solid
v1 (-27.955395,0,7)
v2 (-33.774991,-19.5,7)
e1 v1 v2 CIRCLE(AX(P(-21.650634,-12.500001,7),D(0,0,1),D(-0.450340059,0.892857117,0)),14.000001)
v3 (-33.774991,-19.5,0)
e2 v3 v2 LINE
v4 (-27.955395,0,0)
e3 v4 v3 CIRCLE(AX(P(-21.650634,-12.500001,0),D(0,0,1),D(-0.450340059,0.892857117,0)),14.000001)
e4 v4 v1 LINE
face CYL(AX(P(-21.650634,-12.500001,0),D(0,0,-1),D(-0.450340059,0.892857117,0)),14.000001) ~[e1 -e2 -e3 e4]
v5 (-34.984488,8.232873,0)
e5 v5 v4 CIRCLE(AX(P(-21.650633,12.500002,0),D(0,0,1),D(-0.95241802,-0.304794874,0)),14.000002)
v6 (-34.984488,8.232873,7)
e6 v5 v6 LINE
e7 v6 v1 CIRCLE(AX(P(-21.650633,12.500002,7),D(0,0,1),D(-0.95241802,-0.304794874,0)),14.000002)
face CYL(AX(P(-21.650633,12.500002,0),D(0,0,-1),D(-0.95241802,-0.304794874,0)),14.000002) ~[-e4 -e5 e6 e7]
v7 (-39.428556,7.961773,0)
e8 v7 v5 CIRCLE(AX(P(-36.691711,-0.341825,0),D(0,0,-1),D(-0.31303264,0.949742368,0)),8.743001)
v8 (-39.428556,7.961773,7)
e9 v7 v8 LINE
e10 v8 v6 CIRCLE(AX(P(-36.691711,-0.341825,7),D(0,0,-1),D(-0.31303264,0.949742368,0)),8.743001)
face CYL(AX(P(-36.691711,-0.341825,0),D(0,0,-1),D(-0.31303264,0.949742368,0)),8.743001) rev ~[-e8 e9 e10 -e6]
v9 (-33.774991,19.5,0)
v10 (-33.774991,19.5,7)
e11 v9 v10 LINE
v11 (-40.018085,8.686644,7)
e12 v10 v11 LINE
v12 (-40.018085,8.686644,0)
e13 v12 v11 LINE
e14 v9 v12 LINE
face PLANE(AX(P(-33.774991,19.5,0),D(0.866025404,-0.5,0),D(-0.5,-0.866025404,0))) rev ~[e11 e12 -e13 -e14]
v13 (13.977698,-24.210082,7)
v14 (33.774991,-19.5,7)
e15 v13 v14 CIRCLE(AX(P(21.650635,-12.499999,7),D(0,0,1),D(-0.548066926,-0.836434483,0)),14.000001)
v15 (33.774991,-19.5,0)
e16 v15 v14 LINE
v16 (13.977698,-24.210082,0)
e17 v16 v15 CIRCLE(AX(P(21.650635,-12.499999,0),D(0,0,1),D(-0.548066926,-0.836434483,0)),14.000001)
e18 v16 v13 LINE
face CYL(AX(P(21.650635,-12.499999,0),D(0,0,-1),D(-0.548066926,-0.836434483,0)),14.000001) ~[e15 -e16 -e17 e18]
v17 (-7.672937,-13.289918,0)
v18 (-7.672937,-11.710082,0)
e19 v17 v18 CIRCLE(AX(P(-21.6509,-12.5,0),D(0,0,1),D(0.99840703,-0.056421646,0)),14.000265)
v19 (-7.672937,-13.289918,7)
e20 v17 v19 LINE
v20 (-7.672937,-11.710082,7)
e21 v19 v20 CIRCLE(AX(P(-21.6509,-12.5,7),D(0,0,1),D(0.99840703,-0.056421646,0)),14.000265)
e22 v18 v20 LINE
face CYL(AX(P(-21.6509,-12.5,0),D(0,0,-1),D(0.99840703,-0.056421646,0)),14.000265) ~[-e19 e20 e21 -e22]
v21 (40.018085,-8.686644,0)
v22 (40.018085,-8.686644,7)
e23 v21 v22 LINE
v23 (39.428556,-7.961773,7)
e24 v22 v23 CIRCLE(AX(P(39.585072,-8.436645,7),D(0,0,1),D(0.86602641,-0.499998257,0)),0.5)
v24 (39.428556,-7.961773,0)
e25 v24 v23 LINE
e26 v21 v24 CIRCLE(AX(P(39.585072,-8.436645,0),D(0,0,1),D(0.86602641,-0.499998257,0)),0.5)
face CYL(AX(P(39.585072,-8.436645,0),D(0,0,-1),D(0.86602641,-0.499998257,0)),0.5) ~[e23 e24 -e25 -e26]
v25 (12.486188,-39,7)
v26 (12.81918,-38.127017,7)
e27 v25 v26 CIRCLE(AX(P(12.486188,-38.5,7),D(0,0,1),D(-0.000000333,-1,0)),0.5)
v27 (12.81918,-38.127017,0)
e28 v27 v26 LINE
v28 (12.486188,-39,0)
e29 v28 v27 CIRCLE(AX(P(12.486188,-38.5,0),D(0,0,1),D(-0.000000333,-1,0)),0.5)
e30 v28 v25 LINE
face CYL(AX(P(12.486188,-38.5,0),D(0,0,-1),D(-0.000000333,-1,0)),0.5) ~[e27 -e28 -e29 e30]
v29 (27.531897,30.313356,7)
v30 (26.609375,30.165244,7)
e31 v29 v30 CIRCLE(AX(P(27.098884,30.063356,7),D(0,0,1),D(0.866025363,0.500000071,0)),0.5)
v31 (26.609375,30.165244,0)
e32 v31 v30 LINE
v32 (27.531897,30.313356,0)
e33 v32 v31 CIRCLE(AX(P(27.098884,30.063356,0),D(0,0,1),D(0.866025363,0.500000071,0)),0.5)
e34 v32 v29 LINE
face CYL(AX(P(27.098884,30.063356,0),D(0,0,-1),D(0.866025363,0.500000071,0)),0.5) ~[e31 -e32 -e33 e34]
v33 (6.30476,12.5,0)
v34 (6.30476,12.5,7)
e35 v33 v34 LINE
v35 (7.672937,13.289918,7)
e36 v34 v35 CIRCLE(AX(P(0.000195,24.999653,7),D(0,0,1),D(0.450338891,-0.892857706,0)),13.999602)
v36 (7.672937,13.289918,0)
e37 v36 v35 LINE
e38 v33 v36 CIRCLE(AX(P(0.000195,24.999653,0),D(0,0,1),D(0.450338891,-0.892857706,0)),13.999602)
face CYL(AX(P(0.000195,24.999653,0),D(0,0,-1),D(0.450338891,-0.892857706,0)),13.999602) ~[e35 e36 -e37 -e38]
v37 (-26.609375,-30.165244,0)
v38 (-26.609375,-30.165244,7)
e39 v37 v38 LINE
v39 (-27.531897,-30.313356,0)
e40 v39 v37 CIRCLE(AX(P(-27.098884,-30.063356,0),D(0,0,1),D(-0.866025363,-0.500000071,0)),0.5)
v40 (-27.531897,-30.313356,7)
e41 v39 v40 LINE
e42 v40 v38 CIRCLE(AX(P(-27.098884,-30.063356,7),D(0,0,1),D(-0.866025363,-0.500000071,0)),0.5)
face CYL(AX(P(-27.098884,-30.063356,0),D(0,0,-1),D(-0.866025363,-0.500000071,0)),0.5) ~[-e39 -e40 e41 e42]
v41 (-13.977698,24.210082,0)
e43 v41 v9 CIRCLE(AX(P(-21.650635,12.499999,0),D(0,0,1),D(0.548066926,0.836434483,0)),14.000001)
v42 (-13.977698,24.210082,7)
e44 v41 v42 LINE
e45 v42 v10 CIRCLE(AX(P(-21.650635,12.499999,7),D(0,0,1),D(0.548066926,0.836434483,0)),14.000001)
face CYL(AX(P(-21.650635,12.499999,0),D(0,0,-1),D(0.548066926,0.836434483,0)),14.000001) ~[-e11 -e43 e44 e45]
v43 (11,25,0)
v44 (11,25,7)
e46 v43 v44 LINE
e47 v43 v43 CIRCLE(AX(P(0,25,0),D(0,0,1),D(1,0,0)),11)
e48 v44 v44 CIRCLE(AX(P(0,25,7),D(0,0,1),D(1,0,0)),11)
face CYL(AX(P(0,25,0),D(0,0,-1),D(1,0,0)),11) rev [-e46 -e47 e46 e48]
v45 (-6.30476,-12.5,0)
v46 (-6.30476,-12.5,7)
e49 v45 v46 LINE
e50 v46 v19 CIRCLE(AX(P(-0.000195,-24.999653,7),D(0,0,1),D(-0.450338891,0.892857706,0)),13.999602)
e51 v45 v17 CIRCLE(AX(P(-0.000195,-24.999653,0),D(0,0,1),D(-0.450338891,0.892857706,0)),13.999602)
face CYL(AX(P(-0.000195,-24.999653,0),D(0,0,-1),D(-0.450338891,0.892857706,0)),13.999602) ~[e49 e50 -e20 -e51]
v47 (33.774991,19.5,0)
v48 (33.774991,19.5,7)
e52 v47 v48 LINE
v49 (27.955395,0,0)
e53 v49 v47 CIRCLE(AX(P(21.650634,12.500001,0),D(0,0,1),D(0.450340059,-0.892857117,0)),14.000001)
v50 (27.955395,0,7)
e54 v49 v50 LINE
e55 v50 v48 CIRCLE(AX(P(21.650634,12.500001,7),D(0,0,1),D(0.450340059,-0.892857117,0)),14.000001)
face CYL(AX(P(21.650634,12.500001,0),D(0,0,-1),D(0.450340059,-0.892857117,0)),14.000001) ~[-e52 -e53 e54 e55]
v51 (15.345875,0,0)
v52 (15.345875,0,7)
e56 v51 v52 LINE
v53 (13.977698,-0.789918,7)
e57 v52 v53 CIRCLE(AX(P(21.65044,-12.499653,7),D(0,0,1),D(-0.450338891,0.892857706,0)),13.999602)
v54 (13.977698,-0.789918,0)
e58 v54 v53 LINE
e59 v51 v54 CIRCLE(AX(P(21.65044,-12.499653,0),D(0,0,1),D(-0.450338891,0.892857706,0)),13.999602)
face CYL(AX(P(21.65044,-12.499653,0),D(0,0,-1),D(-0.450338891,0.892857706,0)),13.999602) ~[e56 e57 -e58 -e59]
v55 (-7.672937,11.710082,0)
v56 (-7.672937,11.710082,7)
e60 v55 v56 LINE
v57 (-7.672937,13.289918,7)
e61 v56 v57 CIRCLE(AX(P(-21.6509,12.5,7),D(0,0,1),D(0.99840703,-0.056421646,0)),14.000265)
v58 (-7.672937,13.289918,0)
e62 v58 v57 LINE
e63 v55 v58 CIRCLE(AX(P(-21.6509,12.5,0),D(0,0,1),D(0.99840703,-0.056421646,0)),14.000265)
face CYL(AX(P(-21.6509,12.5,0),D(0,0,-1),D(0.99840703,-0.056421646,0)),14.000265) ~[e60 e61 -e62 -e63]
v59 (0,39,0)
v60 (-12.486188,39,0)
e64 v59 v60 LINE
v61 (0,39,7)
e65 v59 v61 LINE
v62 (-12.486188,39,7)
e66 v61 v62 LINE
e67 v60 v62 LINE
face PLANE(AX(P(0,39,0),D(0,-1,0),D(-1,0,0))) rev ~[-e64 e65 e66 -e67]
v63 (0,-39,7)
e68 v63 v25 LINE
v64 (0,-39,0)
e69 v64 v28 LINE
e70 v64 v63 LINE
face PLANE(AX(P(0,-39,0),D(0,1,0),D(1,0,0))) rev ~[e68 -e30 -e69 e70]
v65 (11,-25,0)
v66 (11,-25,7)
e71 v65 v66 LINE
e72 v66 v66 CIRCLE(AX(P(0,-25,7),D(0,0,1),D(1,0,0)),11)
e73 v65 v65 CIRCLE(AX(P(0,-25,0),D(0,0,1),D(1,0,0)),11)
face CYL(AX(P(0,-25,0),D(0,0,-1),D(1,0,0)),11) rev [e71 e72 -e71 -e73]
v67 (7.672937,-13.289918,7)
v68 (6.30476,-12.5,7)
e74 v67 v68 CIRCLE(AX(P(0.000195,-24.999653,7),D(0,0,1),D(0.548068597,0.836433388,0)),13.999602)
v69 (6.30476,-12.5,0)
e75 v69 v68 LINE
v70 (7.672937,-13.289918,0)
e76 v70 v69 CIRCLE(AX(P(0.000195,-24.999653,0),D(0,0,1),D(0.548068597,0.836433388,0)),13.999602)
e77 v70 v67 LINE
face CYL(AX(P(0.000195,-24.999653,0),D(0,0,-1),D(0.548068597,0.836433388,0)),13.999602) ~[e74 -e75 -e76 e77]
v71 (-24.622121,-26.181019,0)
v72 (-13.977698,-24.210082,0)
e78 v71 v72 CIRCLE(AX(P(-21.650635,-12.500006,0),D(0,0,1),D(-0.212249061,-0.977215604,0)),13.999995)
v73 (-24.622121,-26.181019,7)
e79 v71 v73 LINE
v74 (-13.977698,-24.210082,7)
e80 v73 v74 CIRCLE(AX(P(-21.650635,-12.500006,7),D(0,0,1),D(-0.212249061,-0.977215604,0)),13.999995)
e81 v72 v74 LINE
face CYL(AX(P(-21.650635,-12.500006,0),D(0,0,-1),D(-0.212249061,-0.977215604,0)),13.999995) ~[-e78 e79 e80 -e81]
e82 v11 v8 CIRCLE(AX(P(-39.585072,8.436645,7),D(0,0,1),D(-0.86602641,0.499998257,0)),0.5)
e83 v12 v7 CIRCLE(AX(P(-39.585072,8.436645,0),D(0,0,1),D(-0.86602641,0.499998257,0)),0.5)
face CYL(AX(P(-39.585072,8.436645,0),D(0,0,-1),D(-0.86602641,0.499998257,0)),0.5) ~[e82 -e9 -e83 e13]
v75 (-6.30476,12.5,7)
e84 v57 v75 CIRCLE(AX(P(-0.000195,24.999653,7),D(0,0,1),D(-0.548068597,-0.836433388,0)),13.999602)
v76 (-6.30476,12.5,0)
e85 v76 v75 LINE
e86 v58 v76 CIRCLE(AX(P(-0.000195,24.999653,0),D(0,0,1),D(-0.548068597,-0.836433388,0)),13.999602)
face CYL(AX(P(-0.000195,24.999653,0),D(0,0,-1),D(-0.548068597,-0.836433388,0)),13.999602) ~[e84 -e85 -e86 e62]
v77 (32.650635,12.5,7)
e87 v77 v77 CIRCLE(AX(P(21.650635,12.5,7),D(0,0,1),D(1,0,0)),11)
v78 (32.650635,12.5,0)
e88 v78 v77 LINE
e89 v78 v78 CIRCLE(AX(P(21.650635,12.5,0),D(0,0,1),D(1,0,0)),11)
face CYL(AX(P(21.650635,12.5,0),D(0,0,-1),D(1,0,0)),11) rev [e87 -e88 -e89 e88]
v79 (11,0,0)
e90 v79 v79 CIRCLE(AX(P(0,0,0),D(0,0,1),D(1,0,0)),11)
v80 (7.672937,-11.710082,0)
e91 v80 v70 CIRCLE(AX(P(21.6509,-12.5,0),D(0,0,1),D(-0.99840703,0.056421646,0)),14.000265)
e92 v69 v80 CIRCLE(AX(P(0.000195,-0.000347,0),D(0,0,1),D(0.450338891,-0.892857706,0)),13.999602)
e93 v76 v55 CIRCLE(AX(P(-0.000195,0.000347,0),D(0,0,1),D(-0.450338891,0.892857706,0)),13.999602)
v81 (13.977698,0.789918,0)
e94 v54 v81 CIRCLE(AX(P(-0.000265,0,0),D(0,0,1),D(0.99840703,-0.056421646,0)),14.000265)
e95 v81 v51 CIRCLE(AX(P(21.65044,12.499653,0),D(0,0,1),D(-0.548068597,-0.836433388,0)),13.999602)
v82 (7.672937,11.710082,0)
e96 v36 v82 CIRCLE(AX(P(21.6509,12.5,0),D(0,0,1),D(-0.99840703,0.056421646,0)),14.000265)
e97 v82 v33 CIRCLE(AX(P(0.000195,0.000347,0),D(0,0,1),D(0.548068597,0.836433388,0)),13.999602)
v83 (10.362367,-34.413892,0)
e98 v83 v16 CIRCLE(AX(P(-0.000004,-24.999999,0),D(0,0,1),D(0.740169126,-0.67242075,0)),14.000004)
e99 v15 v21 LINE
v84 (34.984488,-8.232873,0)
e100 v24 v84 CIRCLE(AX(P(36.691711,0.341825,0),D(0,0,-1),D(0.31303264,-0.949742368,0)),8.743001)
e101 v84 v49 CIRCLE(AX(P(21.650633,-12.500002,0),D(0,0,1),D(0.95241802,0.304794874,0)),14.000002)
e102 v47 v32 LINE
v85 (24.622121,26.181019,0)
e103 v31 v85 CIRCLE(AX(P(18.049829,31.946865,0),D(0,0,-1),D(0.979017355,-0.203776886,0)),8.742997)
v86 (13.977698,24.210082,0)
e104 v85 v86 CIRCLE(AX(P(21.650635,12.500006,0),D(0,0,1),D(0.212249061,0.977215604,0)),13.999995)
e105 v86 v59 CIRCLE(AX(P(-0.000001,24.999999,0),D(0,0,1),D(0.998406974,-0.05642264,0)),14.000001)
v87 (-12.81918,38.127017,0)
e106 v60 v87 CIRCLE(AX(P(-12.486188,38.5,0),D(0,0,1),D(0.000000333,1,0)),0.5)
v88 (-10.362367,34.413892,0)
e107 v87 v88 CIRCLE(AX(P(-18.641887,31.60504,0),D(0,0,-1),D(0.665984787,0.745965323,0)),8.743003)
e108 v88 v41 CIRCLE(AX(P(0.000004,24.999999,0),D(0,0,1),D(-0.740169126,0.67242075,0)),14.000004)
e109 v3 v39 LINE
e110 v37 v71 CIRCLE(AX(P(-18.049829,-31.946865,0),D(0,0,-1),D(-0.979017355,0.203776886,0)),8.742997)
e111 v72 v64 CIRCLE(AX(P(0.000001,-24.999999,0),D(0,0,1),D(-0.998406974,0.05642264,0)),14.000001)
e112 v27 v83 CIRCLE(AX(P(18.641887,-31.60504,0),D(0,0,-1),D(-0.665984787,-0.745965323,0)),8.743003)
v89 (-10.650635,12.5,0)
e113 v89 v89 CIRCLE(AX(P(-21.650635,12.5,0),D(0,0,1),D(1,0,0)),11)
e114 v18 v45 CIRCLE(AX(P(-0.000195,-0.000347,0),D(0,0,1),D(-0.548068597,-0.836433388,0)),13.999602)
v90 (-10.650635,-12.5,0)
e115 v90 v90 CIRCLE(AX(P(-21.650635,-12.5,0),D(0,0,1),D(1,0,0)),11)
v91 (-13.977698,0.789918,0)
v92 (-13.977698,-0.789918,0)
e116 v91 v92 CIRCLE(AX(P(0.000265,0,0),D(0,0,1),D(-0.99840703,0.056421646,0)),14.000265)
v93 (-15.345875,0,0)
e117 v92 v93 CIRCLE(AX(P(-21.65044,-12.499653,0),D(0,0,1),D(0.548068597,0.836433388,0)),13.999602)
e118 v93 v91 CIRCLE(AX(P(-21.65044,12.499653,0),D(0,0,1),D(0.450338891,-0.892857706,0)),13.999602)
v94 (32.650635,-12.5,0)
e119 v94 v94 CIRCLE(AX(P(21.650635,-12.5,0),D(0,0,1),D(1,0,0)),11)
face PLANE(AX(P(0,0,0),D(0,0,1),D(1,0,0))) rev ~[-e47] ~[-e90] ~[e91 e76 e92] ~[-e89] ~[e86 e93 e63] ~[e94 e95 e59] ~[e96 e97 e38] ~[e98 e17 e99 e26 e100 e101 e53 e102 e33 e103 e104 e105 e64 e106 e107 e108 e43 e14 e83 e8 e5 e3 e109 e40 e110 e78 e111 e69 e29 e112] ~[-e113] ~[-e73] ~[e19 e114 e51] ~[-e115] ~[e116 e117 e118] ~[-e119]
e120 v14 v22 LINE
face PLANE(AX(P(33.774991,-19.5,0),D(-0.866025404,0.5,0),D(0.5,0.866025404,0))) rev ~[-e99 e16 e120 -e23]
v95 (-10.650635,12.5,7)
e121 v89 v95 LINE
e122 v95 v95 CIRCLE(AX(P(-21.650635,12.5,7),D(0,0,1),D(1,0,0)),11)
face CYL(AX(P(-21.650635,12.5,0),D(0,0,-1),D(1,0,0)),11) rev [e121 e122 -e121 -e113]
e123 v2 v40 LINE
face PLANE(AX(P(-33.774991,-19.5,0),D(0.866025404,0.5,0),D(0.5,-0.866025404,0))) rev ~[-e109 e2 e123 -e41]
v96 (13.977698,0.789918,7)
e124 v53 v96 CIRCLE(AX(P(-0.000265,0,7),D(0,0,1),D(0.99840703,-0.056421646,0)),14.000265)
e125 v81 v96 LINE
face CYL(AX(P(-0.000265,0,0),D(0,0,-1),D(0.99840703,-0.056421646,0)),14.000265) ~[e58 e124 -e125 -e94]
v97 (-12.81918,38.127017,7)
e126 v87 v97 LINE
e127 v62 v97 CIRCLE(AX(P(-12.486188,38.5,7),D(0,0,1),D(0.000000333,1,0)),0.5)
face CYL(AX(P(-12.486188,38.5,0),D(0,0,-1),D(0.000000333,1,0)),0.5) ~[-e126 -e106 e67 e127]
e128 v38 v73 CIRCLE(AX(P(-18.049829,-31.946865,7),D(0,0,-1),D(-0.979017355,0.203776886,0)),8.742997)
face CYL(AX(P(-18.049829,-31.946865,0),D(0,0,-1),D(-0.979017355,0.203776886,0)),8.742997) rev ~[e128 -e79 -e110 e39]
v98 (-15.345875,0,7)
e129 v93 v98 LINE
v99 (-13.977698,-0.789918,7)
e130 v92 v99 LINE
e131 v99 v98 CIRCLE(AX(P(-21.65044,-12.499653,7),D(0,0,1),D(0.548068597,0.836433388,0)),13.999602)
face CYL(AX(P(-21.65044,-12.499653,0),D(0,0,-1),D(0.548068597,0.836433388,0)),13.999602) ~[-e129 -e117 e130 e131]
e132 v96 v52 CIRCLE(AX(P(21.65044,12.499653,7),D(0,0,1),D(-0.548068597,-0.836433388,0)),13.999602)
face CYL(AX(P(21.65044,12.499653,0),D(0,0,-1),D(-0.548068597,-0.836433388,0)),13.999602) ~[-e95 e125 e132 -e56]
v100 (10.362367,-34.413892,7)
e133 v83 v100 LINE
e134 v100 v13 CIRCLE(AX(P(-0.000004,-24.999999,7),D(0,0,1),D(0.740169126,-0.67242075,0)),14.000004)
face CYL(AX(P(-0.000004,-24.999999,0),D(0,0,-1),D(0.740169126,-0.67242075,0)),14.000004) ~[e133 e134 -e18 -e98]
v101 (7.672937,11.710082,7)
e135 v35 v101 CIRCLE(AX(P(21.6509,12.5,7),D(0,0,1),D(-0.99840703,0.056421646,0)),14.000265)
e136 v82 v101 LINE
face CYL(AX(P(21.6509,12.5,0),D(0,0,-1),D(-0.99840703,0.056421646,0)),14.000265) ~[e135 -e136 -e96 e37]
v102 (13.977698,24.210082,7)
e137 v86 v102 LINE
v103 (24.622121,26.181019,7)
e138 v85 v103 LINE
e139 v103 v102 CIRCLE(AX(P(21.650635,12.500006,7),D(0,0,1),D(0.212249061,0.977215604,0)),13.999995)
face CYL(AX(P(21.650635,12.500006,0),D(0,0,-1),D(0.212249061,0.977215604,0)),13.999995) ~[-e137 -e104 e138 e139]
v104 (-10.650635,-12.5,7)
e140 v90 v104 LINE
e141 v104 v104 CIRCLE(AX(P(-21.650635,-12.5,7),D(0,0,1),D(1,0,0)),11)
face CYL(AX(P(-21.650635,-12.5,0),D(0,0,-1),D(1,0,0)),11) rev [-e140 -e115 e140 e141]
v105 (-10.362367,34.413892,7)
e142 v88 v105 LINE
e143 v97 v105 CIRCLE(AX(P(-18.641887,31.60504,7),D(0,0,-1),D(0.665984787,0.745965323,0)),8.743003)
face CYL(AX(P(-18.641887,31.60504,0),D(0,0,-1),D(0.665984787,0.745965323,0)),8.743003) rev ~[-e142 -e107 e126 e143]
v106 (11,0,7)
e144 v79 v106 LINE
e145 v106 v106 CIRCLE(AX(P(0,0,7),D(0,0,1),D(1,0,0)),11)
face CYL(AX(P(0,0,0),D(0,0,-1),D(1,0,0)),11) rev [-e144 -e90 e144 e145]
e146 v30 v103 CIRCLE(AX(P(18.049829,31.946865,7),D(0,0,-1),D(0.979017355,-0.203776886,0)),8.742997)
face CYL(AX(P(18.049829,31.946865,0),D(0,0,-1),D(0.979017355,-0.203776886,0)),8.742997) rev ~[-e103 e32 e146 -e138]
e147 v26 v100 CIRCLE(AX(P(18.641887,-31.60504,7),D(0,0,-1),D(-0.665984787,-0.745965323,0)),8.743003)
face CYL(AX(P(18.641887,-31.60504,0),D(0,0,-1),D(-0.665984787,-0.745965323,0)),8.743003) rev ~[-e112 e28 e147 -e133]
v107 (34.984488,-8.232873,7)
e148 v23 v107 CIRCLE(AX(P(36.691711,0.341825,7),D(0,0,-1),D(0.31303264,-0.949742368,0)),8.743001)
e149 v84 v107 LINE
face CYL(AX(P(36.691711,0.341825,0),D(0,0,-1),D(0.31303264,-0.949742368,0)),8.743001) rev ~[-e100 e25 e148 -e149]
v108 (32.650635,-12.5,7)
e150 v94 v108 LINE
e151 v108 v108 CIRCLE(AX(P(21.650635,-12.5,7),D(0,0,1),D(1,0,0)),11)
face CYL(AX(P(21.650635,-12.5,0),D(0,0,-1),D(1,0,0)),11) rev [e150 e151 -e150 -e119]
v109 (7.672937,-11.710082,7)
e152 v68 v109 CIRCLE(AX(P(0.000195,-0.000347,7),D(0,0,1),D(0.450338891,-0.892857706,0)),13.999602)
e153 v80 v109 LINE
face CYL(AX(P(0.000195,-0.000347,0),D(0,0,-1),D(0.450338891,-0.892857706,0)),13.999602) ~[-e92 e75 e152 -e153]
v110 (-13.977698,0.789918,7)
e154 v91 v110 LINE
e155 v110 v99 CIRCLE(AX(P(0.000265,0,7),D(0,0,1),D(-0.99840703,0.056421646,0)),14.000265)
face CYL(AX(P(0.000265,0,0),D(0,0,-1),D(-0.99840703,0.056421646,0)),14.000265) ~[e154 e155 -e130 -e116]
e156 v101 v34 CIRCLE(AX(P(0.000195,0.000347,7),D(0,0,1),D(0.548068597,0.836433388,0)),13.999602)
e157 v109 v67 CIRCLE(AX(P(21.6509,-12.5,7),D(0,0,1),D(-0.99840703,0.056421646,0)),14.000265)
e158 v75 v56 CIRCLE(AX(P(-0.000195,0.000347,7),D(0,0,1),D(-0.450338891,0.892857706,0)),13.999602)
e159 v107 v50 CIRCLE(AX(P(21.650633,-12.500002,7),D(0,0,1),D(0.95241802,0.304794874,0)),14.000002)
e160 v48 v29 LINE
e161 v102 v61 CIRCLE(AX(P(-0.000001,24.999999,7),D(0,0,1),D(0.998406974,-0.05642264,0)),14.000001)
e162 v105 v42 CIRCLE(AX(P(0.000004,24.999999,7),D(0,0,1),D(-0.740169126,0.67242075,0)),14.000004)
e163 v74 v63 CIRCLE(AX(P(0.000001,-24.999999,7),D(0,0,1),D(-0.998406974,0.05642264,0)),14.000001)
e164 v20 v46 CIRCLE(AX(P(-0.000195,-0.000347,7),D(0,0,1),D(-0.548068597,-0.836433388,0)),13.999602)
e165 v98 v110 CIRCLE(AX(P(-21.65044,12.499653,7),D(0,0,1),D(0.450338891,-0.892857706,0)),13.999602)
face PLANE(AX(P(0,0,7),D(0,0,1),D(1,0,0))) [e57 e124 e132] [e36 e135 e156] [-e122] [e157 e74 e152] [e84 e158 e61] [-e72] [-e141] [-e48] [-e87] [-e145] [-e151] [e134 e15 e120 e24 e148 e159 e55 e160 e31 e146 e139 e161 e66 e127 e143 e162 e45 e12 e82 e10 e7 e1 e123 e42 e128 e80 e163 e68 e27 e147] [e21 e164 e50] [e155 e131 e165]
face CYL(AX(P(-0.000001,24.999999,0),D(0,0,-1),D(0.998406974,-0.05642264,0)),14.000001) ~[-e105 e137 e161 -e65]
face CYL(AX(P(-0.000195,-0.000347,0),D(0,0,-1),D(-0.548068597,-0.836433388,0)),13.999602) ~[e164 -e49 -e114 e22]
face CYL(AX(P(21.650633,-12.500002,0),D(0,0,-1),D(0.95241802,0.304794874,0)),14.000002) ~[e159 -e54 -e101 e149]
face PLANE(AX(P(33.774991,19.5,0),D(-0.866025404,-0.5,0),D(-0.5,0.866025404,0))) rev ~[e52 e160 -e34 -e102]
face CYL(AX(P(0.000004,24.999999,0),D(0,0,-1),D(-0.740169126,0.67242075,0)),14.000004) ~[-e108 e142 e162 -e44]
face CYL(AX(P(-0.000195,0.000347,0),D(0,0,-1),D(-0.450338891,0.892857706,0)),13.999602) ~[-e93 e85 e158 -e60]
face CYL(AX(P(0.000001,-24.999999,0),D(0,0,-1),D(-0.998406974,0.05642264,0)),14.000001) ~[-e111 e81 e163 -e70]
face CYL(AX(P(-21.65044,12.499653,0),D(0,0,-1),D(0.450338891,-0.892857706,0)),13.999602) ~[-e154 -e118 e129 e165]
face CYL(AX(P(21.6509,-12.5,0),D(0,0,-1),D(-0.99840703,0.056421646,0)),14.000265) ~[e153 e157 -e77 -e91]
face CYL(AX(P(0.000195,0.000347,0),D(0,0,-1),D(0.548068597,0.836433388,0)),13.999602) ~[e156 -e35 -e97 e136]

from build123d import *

# Parameters (mm, degrees)
F0_R     = 11
F1_DEPTH = 7


with BuildPart() as f1:
    # F0 (on Top) → F1 (new body)
    with BuildSketch(Plane.XY):
        with BuildLine():
            ThreePointArc((-10.362367, 34.413892), (-13.196178, 29.675563), (-13.977698, 24.210082))
            ThreePointArc((-13.977698, 24.210082), (-24.891005, 26.119838), (-33.774991, 19.5))
            ThreePointArc((-33.774991, 19.5), (-35.570661, 13.994279), (-34.984488, 8.232873))
            ThreePointArc((-34.984488, 8.232873), (-32.29788, 3.409556), (-27.955395, 0))
            ThreePointArc((-27.955395, 0), (-35.065946, -8.496324), (-33.774991, -19.5))
            ThreePointArc((-33.774991, -19.5), (-29.904732, -23.807957), (-24.622121, -26.181019))
            ThreePointArc((-24.622121, -26.181019), (-19.101702, -26.266007), (-13.977698, -24.210082))
            ThreePointArc((-13.977698, -24.210082), (-10.174941, -34.616162), (0, -39))
            ThreePointArc((0, -39), (5.665929, -37.802236), (10.362367, -34.413892))
            ThreePointArc((10.362367, -34.413892), (13.196178, -29.675563), (13.977698, -24.210082))
            ThreePointArc((13.977698, -24.210082), (24.891005, -26.119838), (33.774991, -19.5))
            ThreePointArc((33.774991, -19.5), (35.570661, -13.994279), (34.984488, -8.232873))
            ThreePointArc((34.984488, -8.232873), (32.29788, -3.409556), (27.955395, 0))
            ThreePointArc((27.955395, 0), (35.065946, 8.496324), (33.774991, 19.5))
            ThreePointArc((33.774991, 19.5), (29.904732, 23.807957), (24.622121, 26.181019))
            ThreePointArc((24.622121, 26.181019), (19.101702, 26.266007), (13.977698, 24.210082))
            ThreePointArc((13.977698, 24.210082), (10.174941, 34.616162), (0, 39))
            ThreePointArc((0, 39), (-5.665929, 37.802236), (-10.362367, 34.413892))
        make_face()
        with Locations((-21.650635, -12.5)):
            Circle(F0_R, mode=Mode.SUBTRACT)
        with BuildLine():
            ThreePointArc((-6.30476, -12.5), (-7, -12.875644), (-7.672937, -13.289918))
            ThreePointArc((-7.672937, -13.289918), (-7.650635, -12.5), (-7.672937, -11.710082))
            ThreePointArc((-7.672937, -11.710082), (-7, -12.124356), (-6.30476, -12.5))
        make_face(mode=Mode.SUBTRACT)
        with Locations((0, -25)):
            Circle(F0_R, mode=Mode.SUBTRACT)
        with BuildLine():
            ThreePointArc((7.672937, -11.710082), (7.650635, -12.5), (7.672937, -13.289918))
            ThreePointArc((7.672937, -13.289918), (7, -12.875644), (6.30476, -12.5))
            ThreePointArc((6.30476, -12.5), (7, -12.124356), (7.672937, -11.710082))
        make_face(mode=Mode.SUBTRACT)
        with Locations((21.650635, -12.5)):
            Circle(F0_R, mode=Mode.SUBTRACT)
        with Locations((-21.650635, 12.5)):
            Circle(F0_R, mode=Mode.SUBTRACT)
        with BuildLine():
            ThreePointArc((-15.345875, 0), (-14.650635, 0.375644), (-13.977698, 0.789918))
            ThreePointArc((-13.977698, 0.789918), (-14, 0), (-13.977698, -0.789918))
            ThreePointArc((-13.977698, -0.789918), (-14.650635, -0.375644), (-15.345875, 0))
        make_face(mode=Mode.SUBTRACT)
        with BuildLine():
            ThreePointArc((-7.672937, 11.710082), (-7.650635, 12.5), (-7.672937, 13.289918))
            ThreePointArc((-7.672937, 13.289918), (-7, 12.875644), (-6.30476, 12.5))
            ThreePointArc((-6.30476, 12.5), (-7, 12.124356), (-7.672937, 11.710082))
        make_face(mode=Mode.SUBTRACT)
        Circle(F0_R, mode=Mode.SUBTRACT)
        with BuildLine():
            ThreePointArc((13.977698, -0.789918), (14, 0), (13.977698, 0.789918))
            ThreePointArc((13.977698, 0.789918), (14.650635, 0.375644), (15.345875, 0))
            ThreePointArc((15.345875, 0), (14.650635, -0.375644), (13.977698, -0.789918))
        make_face(mode=Mode.SUBTRACT)
        with BuildLine():
            ThreePointArc((6.30476, 12.5), (7, 12.875644), (7.672937, 13.289918))
            ThreePointArc((7.672937, 13.289918), (7.650635, 12.5), (7.672937, 11.710082))
            ThreePointArc((7.672937, 11.710082), (7, 12.124356), (6.30476, 12.5))
        make_face(mode=Mode.SUBTRACT)
        with Locations((21.650635, 12.5)):
            Circle(F0_R, mode=Mode.SUBTRACT)
        with Locations((0, 25)):
            Circle(F0_R, mode=Mode.SUBTRACT)
        with BuildLine():
            ThreePointArc((-34.984488, 8.232873), (-35.570661, 13.994279), (-33.774991, 19.5))
            Line((-33.774991, 19.5), (-40.018085, 8.686644))
            ThreePointArc((-40.018085, 8.686644), (-39.972979, 8.121164), (-39.428556, 7.961773))
            ThreePointArc((-39.428556, 7.961773), (-37.224068, 8.384953), (-34.984488, 8.232873))
        make_face()
        with BuildLine():
            ThreePointArc((-12.81918, 38.127017), (-11.350452, 36.429465), (-10.362367, 34.413892))
            ThreePointArc((-10.362367, 34.413892), (-5.665929, 37.802236), (0, 39))
            Line((0, 39), (-12.486188, 39))
            ThreePointArc((-12.486188, 39), (-12.953356, 38.678197), (-12.81918, 38.127017))
        make_face()
        with BuildLine():
            ThreePointArc((-24.622121, -26.181019), (-29.904732, -23.807957), (-33.774991, -19.5))
            Line((-33.774991, -19.5), (-27.531897, -30.313356))
            ThreePointArc((-27.531897, -30.313356), (-27.019624, -30.557034), (-26.609375, -30.165244))
            ThreePointArc((-26.609375, -30.165244), (-25.873616, -28.044512), (-24.622121, -26.181019))
        make_face()
        with BuildLine():
            ThreePointArc((26.609375, 30.165244), (25.873616, 28.044512), (24.622121, 26.181019))
            ThreePointArc((24.622121, 26.181019), (29.904732, 23.807957), (33.774991, 19.5))
            Line((33.774991, 19.5), (27.531897, 30.313356))
            ThreePointArc((27.531897, 30.313356), (27.019624, 30.557034), (26.609375, 30.165244))
        make_face()
        with BuildLine():
            ThreePointArc((10.362367, -34.413892), (5.665929, -37.802236), (0, -39))
            Line((0, -39), (12.486188, -39))
            ThreePointArc((12.486188, -39), (12.953356, -38.678197), (12.81918, -38.127017))
            ThreePointArc((12.81918, -38.127017), (11.350452, -36.429465), (10.362367, -34.413892))
        make_face()
        with BuildLine():
            ThreePointArc((39.428556, -7.961773), (37.224068, -8.384953), (34.984488, -8.232873))
            ThreePointArc((34.984488, -8.232873), (35.570661, -13.994279), (33.774991, -19.5))
            Line((33.774991, -19.5), (40.018085, -8.686644))
            ThreePointArc((40.018085, -8.686644), (39.972979, -8.121164), (39.428556, -7.961773))
        make_face()
    extrude(amount=F1_DEPTH)


solid = f1.part
